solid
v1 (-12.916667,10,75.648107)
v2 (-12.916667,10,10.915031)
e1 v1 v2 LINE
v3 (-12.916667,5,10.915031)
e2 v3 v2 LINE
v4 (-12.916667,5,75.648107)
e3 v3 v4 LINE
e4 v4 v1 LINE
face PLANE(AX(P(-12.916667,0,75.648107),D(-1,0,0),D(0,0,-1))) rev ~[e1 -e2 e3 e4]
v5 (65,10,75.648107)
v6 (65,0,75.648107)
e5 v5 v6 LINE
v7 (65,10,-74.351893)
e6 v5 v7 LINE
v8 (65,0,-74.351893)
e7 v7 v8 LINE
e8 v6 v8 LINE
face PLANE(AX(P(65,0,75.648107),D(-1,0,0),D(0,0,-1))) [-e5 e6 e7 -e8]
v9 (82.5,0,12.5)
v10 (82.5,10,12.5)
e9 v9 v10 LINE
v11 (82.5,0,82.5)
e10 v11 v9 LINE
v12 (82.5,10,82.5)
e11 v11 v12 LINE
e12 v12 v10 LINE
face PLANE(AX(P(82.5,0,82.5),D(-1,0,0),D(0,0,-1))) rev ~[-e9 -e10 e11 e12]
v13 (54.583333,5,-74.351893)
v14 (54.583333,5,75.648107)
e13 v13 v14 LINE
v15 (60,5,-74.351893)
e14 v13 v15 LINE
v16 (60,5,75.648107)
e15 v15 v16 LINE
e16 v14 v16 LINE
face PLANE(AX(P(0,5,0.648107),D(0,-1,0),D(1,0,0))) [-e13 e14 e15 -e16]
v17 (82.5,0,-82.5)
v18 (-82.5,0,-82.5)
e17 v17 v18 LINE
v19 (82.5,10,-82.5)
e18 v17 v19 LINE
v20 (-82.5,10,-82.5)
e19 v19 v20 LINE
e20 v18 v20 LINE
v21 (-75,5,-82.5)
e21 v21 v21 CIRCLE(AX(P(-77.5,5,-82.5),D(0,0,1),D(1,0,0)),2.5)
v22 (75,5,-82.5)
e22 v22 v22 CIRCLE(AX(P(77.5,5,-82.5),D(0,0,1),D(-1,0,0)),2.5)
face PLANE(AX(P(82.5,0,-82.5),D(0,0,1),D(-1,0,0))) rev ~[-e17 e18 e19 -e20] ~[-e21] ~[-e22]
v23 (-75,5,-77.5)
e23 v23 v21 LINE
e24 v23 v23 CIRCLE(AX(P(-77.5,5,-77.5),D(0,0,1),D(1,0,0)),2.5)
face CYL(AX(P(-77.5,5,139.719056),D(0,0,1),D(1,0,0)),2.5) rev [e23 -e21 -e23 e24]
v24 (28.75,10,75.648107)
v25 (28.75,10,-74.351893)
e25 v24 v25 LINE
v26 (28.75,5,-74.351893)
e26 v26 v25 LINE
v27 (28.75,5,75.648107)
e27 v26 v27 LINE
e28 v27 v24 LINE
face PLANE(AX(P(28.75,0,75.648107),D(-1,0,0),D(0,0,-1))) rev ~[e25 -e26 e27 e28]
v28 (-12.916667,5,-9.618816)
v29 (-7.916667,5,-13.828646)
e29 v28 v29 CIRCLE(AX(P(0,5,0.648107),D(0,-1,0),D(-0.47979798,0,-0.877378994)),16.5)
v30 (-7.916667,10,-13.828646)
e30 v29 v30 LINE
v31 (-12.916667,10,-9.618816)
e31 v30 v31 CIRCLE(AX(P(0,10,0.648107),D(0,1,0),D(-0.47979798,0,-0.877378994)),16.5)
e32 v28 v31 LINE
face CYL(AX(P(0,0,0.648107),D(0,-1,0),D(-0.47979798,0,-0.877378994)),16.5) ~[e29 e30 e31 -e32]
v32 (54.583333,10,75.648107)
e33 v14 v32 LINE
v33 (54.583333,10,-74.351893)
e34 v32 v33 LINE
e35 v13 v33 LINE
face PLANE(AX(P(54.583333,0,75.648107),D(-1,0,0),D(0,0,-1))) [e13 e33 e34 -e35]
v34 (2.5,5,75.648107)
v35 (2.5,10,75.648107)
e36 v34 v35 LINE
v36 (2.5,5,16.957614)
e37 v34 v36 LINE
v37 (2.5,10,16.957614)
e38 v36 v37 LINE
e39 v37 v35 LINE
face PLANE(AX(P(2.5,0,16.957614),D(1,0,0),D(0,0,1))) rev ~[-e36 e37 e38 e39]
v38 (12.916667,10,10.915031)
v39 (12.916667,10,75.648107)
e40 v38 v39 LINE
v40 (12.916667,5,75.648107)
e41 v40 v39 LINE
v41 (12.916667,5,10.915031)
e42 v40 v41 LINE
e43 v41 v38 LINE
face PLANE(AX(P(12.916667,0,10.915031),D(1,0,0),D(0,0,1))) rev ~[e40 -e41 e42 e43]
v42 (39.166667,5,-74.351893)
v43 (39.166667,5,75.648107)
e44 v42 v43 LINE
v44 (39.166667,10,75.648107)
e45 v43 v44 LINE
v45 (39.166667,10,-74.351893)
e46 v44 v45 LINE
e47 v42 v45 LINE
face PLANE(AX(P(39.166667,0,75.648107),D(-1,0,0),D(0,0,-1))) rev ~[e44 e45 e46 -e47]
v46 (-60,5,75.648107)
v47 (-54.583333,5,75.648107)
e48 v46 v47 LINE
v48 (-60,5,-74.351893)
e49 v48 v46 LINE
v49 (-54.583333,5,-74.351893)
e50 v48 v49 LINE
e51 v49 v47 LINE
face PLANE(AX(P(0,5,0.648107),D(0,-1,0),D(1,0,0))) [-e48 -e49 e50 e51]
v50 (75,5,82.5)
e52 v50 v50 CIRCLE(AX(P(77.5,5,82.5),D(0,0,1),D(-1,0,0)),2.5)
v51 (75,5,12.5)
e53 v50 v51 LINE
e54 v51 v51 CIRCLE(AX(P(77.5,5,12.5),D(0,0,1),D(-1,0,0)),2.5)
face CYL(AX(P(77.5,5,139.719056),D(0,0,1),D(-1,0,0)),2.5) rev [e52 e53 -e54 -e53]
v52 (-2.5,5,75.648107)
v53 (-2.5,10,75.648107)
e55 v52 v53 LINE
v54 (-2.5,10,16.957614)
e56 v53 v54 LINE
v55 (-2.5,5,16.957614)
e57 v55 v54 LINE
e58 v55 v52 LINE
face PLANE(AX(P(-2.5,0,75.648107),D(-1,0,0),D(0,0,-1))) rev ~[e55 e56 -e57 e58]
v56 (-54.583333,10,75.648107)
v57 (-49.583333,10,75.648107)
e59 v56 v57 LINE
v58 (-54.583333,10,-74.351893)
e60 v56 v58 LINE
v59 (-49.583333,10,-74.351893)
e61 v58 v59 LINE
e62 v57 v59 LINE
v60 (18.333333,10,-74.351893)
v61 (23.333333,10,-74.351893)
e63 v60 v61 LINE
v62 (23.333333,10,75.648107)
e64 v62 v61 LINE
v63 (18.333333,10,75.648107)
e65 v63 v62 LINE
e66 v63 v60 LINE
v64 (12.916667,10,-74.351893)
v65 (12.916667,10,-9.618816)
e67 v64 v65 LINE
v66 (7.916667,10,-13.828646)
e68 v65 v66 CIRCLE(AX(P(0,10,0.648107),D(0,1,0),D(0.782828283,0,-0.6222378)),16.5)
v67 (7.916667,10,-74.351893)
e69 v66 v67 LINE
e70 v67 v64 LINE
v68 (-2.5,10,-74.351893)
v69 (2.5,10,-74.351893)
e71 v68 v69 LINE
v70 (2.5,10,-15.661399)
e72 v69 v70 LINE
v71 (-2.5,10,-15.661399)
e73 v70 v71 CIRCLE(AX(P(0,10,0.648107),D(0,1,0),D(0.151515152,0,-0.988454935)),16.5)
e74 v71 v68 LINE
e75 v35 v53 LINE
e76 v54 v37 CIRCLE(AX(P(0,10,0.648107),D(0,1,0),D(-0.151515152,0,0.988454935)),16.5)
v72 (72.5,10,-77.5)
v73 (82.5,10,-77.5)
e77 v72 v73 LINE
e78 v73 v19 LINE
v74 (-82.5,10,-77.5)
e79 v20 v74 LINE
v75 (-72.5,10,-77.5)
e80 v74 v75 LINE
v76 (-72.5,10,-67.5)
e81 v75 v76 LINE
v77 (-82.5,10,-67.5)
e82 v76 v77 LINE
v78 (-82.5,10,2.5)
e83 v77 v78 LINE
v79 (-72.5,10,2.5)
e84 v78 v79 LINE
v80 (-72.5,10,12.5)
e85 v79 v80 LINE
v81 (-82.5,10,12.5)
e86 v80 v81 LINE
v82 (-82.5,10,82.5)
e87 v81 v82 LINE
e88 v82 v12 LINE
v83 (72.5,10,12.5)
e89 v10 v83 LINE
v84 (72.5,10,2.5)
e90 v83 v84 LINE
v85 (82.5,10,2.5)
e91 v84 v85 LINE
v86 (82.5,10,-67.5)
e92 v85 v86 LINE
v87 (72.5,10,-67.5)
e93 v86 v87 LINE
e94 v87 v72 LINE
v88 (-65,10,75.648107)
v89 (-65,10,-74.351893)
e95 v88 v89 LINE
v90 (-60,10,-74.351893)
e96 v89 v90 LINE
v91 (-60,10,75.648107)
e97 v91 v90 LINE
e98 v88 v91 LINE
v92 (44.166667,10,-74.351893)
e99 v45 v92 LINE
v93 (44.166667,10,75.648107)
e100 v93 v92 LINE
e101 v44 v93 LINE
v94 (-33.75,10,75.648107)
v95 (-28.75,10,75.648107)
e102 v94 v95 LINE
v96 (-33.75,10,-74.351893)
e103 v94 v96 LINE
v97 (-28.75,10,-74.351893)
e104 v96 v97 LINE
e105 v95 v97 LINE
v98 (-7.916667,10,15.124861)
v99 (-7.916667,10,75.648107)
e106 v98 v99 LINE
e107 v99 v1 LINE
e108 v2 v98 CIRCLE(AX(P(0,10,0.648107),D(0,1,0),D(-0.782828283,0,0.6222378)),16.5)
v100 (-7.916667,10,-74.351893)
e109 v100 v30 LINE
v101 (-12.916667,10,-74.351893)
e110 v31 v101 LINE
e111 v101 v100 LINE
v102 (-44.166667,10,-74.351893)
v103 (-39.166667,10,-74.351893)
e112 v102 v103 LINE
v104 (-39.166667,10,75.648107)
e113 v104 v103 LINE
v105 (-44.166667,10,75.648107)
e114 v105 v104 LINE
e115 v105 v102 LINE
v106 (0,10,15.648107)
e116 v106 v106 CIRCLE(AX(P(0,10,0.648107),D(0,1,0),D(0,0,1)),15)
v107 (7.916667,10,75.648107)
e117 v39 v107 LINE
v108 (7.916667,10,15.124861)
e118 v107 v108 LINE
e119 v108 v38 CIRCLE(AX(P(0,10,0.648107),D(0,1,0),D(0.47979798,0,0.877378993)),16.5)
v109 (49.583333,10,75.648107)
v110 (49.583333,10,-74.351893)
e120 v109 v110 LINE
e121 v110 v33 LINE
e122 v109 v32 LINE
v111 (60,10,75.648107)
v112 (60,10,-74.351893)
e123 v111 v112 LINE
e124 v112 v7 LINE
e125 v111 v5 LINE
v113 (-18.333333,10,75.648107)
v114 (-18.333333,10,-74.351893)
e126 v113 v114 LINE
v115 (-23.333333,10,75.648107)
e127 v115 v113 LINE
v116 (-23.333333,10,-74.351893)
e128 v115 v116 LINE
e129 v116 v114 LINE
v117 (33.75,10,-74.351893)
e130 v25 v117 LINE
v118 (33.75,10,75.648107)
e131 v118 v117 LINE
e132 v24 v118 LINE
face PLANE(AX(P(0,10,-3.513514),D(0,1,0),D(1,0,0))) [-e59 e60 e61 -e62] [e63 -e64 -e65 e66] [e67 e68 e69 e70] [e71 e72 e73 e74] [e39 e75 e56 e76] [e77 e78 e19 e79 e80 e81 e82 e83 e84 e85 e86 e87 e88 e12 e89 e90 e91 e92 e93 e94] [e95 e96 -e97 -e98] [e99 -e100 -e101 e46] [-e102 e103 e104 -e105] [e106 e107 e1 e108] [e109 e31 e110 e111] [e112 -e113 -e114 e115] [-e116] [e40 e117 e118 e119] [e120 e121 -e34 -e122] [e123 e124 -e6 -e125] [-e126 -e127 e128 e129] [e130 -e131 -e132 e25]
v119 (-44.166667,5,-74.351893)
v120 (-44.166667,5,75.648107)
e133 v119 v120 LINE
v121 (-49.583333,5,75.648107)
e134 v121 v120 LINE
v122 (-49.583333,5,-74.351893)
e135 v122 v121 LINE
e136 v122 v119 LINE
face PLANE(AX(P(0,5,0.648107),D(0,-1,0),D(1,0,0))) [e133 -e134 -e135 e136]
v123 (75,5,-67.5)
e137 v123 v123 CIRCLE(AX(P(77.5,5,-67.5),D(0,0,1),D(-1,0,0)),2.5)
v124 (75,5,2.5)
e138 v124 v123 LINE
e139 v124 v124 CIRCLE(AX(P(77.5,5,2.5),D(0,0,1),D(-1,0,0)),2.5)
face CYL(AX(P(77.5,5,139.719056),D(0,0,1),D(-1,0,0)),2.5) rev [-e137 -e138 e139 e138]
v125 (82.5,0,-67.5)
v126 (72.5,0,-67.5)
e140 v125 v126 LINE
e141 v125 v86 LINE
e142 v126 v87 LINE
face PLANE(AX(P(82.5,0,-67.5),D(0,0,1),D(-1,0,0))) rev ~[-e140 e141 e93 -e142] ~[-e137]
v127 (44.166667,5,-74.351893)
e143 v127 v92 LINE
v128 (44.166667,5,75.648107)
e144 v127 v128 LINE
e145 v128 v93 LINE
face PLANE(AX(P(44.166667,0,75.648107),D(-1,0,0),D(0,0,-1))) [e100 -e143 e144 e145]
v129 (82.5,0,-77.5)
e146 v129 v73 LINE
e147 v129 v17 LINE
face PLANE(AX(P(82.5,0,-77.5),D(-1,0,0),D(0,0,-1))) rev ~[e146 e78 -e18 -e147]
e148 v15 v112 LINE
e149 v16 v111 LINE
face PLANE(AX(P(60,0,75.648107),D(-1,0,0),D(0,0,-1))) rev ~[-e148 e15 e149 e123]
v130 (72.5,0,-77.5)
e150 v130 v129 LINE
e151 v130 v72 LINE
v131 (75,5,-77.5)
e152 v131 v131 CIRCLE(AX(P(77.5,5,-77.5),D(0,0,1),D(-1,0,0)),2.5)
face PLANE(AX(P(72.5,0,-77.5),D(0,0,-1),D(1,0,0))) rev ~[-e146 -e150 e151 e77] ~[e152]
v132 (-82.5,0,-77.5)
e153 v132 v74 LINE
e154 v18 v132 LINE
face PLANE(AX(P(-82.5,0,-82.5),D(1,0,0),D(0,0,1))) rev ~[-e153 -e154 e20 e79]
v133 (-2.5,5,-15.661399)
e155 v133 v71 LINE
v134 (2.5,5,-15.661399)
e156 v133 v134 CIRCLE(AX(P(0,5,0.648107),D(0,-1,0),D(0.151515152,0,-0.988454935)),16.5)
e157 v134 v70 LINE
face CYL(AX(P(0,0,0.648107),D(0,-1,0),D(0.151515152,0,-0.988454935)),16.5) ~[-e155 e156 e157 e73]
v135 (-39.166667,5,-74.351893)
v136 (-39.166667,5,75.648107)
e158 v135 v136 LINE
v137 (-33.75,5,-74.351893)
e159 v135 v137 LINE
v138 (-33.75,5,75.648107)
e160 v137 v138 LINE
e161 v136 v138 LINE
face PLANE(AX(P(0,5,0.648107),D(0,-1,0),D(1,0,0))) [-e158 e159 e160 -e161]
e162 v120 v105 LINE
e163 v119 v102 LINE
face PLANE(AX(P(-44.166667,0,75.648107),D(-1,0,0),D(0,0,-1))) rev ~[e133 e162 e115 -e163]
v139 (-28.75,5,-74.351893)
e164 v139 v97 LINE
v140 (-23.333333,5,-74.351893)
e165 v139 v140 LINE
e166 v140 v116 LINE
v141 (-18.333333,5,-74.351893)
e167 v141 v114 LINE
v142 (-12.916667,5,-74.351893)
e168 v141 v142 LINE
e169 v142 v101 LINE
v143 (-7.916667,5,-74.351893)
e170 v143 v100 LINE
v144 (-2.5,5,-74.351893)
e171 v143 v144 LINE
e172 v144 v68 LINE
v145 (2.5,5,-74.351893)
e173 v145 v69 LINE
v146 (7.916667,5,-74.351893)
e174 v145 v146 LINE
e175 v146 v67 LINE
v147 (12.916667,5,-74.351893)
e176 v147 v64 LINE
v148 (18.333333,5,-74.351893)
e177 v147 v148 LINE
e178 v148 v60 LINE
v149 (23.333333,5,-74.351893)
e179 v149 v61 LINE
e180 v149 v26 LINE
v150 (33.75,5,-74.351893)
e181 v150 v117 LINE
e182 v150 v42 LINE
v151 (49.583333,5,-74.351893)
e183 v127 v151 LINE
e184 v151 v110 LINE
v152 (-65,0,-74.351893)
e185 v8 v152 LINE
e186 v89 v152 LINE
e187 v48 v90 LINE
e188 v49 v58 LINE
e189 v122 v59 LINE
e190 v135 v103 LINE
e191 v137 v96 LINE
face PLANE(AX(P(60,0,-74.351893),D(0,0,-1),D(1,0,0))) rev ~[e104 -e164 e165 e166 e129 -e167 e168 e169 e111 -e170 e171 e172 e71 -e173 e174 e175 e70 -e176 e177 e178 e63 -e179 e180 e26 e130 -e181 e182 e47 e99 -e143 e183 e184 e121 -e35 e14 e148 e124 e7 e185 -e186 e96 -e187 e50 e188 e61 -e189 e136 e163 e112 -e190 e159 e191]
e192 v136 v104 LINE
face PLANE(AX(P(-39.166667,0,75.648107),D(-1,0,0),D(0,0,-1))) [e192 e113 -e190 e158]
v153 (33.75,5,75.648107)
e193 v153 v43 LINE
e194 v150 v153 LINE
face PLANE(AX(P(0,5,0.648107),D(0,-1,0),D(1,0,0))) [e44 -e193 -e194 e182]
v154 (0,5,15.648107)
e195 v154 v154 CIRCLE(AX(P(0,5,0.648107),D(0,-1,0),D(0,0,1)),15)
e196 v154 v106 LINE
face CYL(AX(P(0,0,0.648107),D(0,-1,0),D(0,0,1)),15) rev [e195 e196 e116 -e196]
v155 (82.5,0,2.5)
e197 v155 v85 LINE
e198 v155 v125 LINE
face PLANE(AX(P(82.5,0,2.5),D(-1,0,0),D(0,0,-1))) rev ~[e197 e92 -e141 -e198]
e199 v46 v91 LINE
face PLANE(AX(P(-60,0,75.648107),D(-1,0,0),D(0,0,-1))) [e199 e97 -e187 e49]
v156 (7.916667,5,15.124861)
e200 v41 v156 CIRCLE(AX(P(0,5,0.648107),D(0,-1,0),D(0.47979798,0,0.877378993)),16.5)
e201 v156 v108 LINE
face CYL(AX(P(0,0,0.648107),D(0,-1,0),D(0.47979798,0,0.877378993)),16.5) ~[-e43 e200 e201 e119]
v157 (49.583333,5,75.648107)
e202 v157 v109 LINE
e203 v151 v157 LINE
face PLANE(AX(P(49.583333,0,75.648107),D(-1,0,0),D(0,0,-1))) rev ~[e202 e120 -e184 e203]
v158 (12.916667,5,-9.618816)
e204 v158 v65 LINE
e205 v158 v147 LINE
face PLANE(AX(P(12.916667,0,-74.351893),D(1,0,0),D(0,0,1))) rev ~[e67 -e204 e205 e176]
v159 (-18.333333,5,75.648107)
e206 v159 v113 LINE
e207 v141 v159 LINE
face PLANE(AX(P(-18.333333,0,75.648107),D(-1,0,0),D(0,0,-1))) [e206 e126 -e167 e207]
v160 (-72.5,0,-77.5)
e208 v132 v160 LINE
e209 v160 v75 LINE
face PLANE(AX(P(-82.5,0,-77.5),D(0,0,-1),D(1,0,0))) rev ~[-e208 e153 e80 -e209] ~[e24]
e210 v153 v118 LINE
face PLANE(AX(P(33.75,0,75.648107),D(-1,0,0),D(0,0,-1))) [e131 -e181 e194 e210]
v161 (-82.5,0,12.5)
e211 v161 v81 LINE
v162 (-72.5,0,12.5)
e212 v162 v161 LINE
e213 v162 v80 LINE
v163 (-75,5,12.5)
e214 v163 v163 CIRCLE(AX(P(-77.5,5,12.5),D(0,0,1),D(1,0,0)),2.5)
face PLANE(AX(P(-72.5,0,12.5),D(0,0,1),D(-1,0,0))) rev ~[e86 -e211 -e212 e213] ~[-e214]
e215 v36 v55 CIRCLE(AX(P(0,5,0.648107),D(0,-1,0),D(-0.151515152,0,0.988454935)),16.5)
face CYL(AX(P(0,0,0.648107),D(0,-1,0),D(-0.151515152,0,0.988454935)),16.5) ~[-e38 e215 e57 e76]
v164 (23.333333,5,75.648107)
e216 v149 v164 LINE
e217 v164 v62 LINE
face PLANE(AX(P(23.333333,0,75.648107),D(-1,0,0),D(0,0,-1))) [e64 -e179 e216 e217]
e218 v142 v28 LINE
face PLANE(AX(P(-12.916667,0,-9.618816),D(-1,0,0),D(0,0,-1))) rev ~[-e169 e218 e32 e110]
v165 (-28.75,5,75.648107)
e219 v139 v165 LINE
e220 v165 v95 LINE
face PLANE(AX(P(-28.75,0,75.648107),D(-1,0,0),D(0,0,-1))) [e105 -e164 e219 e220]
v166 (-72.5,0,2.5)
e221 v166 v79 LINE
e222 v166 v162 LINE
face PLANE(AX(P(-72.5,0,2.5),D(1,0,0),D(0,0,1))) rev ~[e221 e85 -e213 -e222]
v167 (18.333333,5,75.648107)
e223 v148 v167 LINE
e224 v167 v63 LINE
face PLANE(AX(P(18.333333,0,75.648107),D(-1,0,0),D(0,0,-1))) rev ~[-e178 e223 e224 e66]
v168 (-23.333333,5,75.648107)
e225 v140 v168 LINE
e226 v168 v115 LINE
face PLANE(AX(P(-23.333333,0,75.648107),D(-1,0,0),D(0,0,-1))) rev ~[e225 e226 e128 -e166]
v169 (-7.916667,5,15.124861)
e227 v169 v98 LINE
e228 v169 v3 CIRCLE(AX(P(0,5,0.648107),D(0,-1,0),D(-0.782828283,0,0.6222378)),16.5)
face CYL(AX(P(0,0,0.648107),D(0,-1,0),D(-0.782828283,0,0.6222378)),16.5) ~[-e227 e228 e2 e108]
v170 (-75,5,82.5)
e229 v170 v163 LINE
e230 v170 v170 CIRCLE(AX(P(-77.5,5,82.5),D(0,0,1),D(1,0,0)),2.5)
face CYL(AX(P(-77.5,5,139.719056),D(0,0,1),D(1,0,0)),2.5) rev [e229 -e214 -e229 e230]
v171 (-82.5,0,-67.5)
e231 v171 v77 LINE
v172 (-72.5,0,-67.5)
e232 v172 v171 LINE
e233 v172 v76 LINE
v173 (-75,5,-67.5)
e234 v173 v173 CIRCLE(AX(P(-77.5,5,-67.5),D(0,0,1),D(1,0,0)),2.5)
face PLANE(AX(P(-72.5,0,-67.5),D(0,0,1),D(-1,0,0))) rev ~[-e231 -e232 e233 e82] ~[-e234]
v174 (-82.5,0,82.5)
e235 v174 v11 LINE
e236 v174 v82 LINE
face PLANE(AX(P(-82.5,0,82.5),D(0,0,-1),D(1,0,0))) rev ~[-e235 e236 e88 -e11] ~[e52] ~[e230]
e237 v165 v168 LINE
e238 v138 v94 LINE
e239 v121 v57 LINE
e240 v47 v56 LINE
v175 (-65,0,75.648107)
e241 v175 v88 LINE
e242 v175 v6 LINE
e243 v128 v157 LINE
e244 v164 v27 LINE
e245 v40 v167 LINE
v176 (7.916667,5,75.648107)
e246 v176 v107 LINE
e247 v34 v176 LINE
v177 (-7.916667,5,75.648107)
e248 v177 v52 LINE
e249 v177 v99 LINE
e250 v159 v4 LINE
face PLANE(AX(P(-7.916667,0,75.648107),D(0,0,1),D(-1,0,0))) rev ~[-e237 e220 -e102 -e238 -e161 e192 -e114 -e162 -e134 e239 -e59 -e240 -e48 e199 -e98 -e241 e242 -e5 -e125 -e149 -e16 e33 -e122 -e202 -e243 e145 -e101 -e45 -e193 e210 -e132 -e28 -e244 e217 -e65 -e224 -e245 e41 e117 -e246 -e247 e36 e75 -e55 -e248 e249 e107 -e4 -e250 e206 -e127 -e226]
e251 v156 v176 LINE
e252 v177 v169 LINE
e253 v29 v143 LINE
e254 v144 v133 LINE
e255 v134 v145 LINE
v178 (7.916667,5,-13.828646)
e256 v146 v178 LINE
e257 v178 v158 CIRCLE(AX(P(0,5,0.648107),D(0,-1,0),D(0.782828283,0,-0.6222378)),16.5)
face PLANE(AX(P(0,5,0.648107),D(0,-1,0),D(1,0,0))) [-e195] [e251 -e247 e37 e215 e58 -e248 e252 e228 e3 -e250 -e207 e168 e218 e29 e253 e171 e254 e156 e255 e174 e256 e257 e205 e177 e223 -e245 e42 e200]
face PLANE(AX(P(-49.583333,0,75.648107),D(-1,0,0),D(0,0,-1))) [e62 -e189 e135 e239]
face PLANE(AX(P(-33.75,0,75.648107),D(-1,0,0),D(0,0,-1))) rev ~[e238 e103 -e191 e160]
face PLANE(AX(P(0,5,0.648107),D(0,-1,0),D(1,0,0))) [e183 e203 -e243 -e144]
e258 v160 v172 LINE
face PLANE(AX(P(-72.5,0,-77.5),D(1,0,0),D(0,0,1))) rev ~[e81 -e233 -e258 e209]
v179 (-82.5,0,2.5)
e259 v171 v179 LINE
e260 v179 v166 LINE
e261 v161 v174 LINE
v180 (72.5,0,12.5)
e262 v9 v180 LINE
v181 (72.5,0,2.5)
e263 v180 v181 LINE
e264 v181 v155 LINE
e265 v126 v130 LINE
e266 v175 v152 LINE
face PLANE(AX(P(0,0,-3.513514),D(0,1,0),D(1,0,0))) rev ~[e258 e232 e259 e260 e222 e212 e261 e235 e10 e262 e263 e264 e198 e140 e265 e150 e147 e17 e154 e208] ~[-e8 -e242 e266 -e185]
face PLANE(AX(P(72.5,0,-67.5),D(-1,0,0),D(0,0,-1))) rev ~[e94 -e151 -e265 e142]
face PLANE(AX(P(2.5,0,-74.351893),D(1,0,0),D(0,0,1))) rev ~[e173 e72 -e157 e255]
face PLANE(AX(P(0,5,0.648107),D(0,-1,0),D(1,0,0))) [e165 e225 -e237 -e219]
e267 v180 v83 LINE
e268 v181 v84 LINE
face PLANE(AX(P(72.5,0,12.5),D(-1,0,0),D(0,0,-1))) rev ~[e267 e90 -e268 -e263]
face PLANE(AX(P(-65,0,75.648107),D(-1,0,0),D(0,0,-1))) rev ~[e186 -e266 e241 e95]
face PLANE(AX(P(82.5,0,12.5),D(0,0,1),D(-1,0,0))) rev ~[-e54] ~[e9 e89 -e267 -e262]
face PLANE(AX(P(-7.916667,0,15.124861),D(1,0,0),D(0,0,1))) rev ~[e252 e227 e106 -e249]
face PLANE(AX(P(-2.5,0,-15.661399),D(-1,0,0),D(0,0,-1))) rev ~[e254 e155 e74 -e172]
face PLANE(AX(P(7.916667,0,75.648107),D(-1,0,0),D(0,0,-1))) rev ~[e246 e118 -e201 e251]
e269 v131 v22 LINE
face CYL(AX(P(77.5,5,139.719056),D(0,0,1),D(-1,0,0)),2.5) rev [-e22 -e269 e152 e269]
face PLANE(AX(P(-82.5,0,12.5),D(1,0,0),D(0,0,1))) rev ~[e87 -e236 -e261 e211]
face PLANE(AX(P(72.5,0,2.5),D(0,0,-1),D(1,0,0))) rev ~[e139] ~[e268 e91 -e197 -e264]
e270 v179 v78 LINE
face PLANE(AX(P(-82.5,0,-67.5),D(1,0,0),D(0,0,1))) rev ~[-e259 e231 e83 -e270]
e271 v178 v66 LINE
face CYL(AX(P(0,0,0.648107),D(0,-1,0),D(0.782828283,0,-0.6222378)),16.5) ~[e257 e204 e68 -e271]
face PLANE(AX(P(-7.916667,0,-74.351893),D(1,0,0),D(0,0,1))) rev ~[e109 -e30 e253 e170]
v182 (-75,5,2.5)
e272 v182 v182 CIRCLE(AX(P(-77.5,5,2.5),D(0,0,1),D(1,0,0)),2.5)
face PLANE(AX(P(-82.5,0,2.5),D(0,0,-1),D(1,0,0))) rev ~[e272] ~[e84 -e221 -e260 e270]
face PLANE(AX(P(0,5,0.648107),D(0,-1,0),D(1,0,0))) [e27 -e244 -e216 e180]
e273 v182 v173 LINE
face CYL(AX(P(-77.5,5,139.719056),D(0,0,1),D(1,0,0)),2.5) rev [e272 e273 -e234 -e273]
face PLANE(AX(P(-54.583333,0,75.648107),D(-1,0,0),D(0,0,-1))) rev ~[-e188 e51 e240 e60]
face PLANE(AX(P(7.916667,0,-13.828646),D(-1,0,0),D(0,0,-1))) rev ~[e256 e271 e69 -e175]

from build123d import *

# Parameters (mm, degrees)
ESQUISSE1_W             = 5
ESQUISSE1_H             = 150
ESQUISSE1_R             = 15
BASE_DEPTH              = 10
VIDE_VIS_DEPTH          = 127.219055614
VIDE_VIS_DEPTH_BACK     = 127.219055614
ESQUISSE5_R             = 2.5
ESQUISSE6_W             = 130
ESQUISSE6_H             = 150
ENL_V_MAT_EXTRU_6_DEPTH = 5


with BuildPart() as part:
    # Esquisse1 → BASE (new body)
    with BuildSketch(Plane(origin=(0, 0, 0), x_dir=(1, 0, 0), z_dir=(0, 1, 0))):
        Polygon((-82.5, 82.5), (-82.5, 77.5), (-72.5, 77.5), (-72.5, 67.5), (-82.5, 67.5), (-82.5, -2.5), (-72.5, -2.5), (-72.5, -12.5), (-82.5, -12.5), (-82.5, -82.5), (82.5, -82.5), (82.5, -12.5), (72.5, -12.5), (72.5, -2.5), (82.5, -2.5), (82.5, 67.5), (72.5, 67.5), (72.5, 77.5), (82.5, 77.5), (82.5, 82.5), align=None)
        with BuildLine():
            ThreePointArc((-12.916666667, -10.915030923), (-10.627210874, -13.27000839), (-7.916666667, -15.124860621))
            Line((-7.916666667, -15.124860621), (-7.916666667, -75.648107225))
            Line((-7.916666667, -75.648107225), (-12.916666667, -75.648107225))
            Line((-12.916666667, -75.648107225), (-12.916666667, -10.915030923))
        make_face(mode=Mode.SUBTRACT)
        with Locations((-62.5, -0.648107225)):
            Rectangle(ESQUISSE1_W, ESQUISSE1_H, mode=Mode.SUBTRACT)
        with Locations((-52.083333333, -0.648107225)):
            Rectangle(ESQUISSE1_W, ESQUISSE1_H, mode=Mode.SUBTRACT)
        with Locations((-41.666666667, -0.648107225)):
            Rectangle(ESQUISSE1_W, ESQUISSE1_H, mode=Mode.SUBTRACT)
        with Locations((-31.25, -0.648107225)):
            Rectangle(ESQUISSE1_W, ESQUISSE1_H, mode=Mode.SUBTRACT)
        with Locations((-20.833333333, -0.648107225)):
            Rectangle(ESQUISSE1_W, ESQUISSE1_H, mode=Mode.SUBTRACT)
        with Locations(Location((0, -0.648107225, 0), (0, 0, 270))):
            Circle(ESQUISSE1_R, mode=Mode.SUBTRACT)
        with BuildLine():
            Line((-2.5, -75.648107225), (-2.5, -16.957613655))
            ThreePointArc((-2.5, -16.957613655), (0, -17.148107225), (2.5, -16.957613655))
            Line((2.5, -16.957613655), (2.5, -75.648107225))
            Line((2.5, -75.648107225), (-2.5, -75.648107225))
        make_face(mode=Mode.SUBTRACT)
        with BuildLine():
            Line((7.916666667, -75.648107225), (7.916666667, -15.124860621))
            ThreePointArc((7.916666667, -15.124860621), (10.627210874, -13.27000839), (12.916666667, -10.915030923))
            Line((12.916666667, -10.915030923), (12.916666667, -75.648107225))
            Line((12.916666667, -75.648107225), (7.916666667, -75.648107225))
        make_face(mode=Mode.SUBTRACT)
        with BuildLine():
            Line((-12.916666667, 9.618816473), (-12.916666667, 74.351892775))
            Line((-12.916666667, 74.351892775), (-7.916666667, 74.351892775))
            Line((-7.916666667, 74.351892775), (-7.916666667, 13.828646171))
            ThreePointArc((-7.916666667, 13.828646171), (-10.627210874, 11.973793941), (-12.916666667, 9.618816473))
        make_face(mode=Mode.SUBTRACT)
        with Locations((20.833333333, -0.648107225)):
            Rectangle(ESQUISSE1_W, ESQUISSE1_H, mode=Mode.SUBTRACT)
        with Locations((31.25, -0.648107225)):
            Rectangle(ESQUISSE1_W, ESQUISSE1_H, mode=Mode.SUBTRACT)
        with Locations((41.666666667, -0.648107225)):
            Rectangle(ESQUISSE1_W, ESQUISSE1_H, mode=Mode.SUBTRACT)
        with Locations((52.083333333, -0.648107225)):
            Rectangle(ESQUISSE1_W, ESQUISSE1_H, mode=Mode.SUBTRACT)
        with Locations((62.5, -0.648107225)):
            Rectangle(ESQUISSE1_W, ESQUISSE1_H, mode=Mode.SUBTRACT)
        with BuildLine():
            Line((-2.5, 15.661399205), (-2.5, 74.351892775))
            Line((-2.5, 74.351892775), (2.5, 74.351892775))
            Line((2.5, 74.351892775), (2.5, 15.661399205))
            ThreePointArc((2.5, 15.661399205), (0, 15.851892775), (-2.5, 15.661399205))
        make_face(mode=Mode.SUBTRACT)
        with BuildLine():
            Line((12.916666667, 74.351892775), (12.916666667, 9.618816473))
            ThreePointArc((12.916666667, 9.618816473), (10.627210874, 11.973793941), (7.916666667, 13.828646171))
            Line((7.916666667, 13.828646171), (7.916666667, 74.351892775))
            Line((7.916666667, 74.351892775), (12.916666667, 74.351892775))
        make_face(mode=Mode.SUBTRACT)
    extrude(amount=BASE_DEPTH)

    # Esquisse5 → VIDE VIS (cut, two sides: drawn at the far end of the back side and taken through both)
    with BuildSketch(Plane(origin=(0, 0, 12.5), x_dir=(-1, 0, 0), z_dir=(0, 0, -1)).offset(-VIDE_VIS_DEPTH_BACK)):
        with Locations((-77.5, 5)):
            Circle(ESQUISSE5_R)
        with Locations(Location((77.5, 5, 0), (0, 0, 180))):
            Circle(ESQUISSE5_R)
    extrude(amount=VIDE_VIS_DEPTH + VIDE_VIS_DEPTH_BACK, mode=Mode.SUBTRACT)

    # Esquisse6 → Enlèv. mat.-Extru.6 (cut)
    with BuildSketch(Plane.XZ):
        with Locations((0, 0.648107225)):
            Rectangle(ESQUISSE6_W, ESQUISSE6_H)
    extrude(amount=-ENL_V_MAT_EXTRU_6_DEPTH, mode=Mode.SUBTRACT)


solid = part.part
